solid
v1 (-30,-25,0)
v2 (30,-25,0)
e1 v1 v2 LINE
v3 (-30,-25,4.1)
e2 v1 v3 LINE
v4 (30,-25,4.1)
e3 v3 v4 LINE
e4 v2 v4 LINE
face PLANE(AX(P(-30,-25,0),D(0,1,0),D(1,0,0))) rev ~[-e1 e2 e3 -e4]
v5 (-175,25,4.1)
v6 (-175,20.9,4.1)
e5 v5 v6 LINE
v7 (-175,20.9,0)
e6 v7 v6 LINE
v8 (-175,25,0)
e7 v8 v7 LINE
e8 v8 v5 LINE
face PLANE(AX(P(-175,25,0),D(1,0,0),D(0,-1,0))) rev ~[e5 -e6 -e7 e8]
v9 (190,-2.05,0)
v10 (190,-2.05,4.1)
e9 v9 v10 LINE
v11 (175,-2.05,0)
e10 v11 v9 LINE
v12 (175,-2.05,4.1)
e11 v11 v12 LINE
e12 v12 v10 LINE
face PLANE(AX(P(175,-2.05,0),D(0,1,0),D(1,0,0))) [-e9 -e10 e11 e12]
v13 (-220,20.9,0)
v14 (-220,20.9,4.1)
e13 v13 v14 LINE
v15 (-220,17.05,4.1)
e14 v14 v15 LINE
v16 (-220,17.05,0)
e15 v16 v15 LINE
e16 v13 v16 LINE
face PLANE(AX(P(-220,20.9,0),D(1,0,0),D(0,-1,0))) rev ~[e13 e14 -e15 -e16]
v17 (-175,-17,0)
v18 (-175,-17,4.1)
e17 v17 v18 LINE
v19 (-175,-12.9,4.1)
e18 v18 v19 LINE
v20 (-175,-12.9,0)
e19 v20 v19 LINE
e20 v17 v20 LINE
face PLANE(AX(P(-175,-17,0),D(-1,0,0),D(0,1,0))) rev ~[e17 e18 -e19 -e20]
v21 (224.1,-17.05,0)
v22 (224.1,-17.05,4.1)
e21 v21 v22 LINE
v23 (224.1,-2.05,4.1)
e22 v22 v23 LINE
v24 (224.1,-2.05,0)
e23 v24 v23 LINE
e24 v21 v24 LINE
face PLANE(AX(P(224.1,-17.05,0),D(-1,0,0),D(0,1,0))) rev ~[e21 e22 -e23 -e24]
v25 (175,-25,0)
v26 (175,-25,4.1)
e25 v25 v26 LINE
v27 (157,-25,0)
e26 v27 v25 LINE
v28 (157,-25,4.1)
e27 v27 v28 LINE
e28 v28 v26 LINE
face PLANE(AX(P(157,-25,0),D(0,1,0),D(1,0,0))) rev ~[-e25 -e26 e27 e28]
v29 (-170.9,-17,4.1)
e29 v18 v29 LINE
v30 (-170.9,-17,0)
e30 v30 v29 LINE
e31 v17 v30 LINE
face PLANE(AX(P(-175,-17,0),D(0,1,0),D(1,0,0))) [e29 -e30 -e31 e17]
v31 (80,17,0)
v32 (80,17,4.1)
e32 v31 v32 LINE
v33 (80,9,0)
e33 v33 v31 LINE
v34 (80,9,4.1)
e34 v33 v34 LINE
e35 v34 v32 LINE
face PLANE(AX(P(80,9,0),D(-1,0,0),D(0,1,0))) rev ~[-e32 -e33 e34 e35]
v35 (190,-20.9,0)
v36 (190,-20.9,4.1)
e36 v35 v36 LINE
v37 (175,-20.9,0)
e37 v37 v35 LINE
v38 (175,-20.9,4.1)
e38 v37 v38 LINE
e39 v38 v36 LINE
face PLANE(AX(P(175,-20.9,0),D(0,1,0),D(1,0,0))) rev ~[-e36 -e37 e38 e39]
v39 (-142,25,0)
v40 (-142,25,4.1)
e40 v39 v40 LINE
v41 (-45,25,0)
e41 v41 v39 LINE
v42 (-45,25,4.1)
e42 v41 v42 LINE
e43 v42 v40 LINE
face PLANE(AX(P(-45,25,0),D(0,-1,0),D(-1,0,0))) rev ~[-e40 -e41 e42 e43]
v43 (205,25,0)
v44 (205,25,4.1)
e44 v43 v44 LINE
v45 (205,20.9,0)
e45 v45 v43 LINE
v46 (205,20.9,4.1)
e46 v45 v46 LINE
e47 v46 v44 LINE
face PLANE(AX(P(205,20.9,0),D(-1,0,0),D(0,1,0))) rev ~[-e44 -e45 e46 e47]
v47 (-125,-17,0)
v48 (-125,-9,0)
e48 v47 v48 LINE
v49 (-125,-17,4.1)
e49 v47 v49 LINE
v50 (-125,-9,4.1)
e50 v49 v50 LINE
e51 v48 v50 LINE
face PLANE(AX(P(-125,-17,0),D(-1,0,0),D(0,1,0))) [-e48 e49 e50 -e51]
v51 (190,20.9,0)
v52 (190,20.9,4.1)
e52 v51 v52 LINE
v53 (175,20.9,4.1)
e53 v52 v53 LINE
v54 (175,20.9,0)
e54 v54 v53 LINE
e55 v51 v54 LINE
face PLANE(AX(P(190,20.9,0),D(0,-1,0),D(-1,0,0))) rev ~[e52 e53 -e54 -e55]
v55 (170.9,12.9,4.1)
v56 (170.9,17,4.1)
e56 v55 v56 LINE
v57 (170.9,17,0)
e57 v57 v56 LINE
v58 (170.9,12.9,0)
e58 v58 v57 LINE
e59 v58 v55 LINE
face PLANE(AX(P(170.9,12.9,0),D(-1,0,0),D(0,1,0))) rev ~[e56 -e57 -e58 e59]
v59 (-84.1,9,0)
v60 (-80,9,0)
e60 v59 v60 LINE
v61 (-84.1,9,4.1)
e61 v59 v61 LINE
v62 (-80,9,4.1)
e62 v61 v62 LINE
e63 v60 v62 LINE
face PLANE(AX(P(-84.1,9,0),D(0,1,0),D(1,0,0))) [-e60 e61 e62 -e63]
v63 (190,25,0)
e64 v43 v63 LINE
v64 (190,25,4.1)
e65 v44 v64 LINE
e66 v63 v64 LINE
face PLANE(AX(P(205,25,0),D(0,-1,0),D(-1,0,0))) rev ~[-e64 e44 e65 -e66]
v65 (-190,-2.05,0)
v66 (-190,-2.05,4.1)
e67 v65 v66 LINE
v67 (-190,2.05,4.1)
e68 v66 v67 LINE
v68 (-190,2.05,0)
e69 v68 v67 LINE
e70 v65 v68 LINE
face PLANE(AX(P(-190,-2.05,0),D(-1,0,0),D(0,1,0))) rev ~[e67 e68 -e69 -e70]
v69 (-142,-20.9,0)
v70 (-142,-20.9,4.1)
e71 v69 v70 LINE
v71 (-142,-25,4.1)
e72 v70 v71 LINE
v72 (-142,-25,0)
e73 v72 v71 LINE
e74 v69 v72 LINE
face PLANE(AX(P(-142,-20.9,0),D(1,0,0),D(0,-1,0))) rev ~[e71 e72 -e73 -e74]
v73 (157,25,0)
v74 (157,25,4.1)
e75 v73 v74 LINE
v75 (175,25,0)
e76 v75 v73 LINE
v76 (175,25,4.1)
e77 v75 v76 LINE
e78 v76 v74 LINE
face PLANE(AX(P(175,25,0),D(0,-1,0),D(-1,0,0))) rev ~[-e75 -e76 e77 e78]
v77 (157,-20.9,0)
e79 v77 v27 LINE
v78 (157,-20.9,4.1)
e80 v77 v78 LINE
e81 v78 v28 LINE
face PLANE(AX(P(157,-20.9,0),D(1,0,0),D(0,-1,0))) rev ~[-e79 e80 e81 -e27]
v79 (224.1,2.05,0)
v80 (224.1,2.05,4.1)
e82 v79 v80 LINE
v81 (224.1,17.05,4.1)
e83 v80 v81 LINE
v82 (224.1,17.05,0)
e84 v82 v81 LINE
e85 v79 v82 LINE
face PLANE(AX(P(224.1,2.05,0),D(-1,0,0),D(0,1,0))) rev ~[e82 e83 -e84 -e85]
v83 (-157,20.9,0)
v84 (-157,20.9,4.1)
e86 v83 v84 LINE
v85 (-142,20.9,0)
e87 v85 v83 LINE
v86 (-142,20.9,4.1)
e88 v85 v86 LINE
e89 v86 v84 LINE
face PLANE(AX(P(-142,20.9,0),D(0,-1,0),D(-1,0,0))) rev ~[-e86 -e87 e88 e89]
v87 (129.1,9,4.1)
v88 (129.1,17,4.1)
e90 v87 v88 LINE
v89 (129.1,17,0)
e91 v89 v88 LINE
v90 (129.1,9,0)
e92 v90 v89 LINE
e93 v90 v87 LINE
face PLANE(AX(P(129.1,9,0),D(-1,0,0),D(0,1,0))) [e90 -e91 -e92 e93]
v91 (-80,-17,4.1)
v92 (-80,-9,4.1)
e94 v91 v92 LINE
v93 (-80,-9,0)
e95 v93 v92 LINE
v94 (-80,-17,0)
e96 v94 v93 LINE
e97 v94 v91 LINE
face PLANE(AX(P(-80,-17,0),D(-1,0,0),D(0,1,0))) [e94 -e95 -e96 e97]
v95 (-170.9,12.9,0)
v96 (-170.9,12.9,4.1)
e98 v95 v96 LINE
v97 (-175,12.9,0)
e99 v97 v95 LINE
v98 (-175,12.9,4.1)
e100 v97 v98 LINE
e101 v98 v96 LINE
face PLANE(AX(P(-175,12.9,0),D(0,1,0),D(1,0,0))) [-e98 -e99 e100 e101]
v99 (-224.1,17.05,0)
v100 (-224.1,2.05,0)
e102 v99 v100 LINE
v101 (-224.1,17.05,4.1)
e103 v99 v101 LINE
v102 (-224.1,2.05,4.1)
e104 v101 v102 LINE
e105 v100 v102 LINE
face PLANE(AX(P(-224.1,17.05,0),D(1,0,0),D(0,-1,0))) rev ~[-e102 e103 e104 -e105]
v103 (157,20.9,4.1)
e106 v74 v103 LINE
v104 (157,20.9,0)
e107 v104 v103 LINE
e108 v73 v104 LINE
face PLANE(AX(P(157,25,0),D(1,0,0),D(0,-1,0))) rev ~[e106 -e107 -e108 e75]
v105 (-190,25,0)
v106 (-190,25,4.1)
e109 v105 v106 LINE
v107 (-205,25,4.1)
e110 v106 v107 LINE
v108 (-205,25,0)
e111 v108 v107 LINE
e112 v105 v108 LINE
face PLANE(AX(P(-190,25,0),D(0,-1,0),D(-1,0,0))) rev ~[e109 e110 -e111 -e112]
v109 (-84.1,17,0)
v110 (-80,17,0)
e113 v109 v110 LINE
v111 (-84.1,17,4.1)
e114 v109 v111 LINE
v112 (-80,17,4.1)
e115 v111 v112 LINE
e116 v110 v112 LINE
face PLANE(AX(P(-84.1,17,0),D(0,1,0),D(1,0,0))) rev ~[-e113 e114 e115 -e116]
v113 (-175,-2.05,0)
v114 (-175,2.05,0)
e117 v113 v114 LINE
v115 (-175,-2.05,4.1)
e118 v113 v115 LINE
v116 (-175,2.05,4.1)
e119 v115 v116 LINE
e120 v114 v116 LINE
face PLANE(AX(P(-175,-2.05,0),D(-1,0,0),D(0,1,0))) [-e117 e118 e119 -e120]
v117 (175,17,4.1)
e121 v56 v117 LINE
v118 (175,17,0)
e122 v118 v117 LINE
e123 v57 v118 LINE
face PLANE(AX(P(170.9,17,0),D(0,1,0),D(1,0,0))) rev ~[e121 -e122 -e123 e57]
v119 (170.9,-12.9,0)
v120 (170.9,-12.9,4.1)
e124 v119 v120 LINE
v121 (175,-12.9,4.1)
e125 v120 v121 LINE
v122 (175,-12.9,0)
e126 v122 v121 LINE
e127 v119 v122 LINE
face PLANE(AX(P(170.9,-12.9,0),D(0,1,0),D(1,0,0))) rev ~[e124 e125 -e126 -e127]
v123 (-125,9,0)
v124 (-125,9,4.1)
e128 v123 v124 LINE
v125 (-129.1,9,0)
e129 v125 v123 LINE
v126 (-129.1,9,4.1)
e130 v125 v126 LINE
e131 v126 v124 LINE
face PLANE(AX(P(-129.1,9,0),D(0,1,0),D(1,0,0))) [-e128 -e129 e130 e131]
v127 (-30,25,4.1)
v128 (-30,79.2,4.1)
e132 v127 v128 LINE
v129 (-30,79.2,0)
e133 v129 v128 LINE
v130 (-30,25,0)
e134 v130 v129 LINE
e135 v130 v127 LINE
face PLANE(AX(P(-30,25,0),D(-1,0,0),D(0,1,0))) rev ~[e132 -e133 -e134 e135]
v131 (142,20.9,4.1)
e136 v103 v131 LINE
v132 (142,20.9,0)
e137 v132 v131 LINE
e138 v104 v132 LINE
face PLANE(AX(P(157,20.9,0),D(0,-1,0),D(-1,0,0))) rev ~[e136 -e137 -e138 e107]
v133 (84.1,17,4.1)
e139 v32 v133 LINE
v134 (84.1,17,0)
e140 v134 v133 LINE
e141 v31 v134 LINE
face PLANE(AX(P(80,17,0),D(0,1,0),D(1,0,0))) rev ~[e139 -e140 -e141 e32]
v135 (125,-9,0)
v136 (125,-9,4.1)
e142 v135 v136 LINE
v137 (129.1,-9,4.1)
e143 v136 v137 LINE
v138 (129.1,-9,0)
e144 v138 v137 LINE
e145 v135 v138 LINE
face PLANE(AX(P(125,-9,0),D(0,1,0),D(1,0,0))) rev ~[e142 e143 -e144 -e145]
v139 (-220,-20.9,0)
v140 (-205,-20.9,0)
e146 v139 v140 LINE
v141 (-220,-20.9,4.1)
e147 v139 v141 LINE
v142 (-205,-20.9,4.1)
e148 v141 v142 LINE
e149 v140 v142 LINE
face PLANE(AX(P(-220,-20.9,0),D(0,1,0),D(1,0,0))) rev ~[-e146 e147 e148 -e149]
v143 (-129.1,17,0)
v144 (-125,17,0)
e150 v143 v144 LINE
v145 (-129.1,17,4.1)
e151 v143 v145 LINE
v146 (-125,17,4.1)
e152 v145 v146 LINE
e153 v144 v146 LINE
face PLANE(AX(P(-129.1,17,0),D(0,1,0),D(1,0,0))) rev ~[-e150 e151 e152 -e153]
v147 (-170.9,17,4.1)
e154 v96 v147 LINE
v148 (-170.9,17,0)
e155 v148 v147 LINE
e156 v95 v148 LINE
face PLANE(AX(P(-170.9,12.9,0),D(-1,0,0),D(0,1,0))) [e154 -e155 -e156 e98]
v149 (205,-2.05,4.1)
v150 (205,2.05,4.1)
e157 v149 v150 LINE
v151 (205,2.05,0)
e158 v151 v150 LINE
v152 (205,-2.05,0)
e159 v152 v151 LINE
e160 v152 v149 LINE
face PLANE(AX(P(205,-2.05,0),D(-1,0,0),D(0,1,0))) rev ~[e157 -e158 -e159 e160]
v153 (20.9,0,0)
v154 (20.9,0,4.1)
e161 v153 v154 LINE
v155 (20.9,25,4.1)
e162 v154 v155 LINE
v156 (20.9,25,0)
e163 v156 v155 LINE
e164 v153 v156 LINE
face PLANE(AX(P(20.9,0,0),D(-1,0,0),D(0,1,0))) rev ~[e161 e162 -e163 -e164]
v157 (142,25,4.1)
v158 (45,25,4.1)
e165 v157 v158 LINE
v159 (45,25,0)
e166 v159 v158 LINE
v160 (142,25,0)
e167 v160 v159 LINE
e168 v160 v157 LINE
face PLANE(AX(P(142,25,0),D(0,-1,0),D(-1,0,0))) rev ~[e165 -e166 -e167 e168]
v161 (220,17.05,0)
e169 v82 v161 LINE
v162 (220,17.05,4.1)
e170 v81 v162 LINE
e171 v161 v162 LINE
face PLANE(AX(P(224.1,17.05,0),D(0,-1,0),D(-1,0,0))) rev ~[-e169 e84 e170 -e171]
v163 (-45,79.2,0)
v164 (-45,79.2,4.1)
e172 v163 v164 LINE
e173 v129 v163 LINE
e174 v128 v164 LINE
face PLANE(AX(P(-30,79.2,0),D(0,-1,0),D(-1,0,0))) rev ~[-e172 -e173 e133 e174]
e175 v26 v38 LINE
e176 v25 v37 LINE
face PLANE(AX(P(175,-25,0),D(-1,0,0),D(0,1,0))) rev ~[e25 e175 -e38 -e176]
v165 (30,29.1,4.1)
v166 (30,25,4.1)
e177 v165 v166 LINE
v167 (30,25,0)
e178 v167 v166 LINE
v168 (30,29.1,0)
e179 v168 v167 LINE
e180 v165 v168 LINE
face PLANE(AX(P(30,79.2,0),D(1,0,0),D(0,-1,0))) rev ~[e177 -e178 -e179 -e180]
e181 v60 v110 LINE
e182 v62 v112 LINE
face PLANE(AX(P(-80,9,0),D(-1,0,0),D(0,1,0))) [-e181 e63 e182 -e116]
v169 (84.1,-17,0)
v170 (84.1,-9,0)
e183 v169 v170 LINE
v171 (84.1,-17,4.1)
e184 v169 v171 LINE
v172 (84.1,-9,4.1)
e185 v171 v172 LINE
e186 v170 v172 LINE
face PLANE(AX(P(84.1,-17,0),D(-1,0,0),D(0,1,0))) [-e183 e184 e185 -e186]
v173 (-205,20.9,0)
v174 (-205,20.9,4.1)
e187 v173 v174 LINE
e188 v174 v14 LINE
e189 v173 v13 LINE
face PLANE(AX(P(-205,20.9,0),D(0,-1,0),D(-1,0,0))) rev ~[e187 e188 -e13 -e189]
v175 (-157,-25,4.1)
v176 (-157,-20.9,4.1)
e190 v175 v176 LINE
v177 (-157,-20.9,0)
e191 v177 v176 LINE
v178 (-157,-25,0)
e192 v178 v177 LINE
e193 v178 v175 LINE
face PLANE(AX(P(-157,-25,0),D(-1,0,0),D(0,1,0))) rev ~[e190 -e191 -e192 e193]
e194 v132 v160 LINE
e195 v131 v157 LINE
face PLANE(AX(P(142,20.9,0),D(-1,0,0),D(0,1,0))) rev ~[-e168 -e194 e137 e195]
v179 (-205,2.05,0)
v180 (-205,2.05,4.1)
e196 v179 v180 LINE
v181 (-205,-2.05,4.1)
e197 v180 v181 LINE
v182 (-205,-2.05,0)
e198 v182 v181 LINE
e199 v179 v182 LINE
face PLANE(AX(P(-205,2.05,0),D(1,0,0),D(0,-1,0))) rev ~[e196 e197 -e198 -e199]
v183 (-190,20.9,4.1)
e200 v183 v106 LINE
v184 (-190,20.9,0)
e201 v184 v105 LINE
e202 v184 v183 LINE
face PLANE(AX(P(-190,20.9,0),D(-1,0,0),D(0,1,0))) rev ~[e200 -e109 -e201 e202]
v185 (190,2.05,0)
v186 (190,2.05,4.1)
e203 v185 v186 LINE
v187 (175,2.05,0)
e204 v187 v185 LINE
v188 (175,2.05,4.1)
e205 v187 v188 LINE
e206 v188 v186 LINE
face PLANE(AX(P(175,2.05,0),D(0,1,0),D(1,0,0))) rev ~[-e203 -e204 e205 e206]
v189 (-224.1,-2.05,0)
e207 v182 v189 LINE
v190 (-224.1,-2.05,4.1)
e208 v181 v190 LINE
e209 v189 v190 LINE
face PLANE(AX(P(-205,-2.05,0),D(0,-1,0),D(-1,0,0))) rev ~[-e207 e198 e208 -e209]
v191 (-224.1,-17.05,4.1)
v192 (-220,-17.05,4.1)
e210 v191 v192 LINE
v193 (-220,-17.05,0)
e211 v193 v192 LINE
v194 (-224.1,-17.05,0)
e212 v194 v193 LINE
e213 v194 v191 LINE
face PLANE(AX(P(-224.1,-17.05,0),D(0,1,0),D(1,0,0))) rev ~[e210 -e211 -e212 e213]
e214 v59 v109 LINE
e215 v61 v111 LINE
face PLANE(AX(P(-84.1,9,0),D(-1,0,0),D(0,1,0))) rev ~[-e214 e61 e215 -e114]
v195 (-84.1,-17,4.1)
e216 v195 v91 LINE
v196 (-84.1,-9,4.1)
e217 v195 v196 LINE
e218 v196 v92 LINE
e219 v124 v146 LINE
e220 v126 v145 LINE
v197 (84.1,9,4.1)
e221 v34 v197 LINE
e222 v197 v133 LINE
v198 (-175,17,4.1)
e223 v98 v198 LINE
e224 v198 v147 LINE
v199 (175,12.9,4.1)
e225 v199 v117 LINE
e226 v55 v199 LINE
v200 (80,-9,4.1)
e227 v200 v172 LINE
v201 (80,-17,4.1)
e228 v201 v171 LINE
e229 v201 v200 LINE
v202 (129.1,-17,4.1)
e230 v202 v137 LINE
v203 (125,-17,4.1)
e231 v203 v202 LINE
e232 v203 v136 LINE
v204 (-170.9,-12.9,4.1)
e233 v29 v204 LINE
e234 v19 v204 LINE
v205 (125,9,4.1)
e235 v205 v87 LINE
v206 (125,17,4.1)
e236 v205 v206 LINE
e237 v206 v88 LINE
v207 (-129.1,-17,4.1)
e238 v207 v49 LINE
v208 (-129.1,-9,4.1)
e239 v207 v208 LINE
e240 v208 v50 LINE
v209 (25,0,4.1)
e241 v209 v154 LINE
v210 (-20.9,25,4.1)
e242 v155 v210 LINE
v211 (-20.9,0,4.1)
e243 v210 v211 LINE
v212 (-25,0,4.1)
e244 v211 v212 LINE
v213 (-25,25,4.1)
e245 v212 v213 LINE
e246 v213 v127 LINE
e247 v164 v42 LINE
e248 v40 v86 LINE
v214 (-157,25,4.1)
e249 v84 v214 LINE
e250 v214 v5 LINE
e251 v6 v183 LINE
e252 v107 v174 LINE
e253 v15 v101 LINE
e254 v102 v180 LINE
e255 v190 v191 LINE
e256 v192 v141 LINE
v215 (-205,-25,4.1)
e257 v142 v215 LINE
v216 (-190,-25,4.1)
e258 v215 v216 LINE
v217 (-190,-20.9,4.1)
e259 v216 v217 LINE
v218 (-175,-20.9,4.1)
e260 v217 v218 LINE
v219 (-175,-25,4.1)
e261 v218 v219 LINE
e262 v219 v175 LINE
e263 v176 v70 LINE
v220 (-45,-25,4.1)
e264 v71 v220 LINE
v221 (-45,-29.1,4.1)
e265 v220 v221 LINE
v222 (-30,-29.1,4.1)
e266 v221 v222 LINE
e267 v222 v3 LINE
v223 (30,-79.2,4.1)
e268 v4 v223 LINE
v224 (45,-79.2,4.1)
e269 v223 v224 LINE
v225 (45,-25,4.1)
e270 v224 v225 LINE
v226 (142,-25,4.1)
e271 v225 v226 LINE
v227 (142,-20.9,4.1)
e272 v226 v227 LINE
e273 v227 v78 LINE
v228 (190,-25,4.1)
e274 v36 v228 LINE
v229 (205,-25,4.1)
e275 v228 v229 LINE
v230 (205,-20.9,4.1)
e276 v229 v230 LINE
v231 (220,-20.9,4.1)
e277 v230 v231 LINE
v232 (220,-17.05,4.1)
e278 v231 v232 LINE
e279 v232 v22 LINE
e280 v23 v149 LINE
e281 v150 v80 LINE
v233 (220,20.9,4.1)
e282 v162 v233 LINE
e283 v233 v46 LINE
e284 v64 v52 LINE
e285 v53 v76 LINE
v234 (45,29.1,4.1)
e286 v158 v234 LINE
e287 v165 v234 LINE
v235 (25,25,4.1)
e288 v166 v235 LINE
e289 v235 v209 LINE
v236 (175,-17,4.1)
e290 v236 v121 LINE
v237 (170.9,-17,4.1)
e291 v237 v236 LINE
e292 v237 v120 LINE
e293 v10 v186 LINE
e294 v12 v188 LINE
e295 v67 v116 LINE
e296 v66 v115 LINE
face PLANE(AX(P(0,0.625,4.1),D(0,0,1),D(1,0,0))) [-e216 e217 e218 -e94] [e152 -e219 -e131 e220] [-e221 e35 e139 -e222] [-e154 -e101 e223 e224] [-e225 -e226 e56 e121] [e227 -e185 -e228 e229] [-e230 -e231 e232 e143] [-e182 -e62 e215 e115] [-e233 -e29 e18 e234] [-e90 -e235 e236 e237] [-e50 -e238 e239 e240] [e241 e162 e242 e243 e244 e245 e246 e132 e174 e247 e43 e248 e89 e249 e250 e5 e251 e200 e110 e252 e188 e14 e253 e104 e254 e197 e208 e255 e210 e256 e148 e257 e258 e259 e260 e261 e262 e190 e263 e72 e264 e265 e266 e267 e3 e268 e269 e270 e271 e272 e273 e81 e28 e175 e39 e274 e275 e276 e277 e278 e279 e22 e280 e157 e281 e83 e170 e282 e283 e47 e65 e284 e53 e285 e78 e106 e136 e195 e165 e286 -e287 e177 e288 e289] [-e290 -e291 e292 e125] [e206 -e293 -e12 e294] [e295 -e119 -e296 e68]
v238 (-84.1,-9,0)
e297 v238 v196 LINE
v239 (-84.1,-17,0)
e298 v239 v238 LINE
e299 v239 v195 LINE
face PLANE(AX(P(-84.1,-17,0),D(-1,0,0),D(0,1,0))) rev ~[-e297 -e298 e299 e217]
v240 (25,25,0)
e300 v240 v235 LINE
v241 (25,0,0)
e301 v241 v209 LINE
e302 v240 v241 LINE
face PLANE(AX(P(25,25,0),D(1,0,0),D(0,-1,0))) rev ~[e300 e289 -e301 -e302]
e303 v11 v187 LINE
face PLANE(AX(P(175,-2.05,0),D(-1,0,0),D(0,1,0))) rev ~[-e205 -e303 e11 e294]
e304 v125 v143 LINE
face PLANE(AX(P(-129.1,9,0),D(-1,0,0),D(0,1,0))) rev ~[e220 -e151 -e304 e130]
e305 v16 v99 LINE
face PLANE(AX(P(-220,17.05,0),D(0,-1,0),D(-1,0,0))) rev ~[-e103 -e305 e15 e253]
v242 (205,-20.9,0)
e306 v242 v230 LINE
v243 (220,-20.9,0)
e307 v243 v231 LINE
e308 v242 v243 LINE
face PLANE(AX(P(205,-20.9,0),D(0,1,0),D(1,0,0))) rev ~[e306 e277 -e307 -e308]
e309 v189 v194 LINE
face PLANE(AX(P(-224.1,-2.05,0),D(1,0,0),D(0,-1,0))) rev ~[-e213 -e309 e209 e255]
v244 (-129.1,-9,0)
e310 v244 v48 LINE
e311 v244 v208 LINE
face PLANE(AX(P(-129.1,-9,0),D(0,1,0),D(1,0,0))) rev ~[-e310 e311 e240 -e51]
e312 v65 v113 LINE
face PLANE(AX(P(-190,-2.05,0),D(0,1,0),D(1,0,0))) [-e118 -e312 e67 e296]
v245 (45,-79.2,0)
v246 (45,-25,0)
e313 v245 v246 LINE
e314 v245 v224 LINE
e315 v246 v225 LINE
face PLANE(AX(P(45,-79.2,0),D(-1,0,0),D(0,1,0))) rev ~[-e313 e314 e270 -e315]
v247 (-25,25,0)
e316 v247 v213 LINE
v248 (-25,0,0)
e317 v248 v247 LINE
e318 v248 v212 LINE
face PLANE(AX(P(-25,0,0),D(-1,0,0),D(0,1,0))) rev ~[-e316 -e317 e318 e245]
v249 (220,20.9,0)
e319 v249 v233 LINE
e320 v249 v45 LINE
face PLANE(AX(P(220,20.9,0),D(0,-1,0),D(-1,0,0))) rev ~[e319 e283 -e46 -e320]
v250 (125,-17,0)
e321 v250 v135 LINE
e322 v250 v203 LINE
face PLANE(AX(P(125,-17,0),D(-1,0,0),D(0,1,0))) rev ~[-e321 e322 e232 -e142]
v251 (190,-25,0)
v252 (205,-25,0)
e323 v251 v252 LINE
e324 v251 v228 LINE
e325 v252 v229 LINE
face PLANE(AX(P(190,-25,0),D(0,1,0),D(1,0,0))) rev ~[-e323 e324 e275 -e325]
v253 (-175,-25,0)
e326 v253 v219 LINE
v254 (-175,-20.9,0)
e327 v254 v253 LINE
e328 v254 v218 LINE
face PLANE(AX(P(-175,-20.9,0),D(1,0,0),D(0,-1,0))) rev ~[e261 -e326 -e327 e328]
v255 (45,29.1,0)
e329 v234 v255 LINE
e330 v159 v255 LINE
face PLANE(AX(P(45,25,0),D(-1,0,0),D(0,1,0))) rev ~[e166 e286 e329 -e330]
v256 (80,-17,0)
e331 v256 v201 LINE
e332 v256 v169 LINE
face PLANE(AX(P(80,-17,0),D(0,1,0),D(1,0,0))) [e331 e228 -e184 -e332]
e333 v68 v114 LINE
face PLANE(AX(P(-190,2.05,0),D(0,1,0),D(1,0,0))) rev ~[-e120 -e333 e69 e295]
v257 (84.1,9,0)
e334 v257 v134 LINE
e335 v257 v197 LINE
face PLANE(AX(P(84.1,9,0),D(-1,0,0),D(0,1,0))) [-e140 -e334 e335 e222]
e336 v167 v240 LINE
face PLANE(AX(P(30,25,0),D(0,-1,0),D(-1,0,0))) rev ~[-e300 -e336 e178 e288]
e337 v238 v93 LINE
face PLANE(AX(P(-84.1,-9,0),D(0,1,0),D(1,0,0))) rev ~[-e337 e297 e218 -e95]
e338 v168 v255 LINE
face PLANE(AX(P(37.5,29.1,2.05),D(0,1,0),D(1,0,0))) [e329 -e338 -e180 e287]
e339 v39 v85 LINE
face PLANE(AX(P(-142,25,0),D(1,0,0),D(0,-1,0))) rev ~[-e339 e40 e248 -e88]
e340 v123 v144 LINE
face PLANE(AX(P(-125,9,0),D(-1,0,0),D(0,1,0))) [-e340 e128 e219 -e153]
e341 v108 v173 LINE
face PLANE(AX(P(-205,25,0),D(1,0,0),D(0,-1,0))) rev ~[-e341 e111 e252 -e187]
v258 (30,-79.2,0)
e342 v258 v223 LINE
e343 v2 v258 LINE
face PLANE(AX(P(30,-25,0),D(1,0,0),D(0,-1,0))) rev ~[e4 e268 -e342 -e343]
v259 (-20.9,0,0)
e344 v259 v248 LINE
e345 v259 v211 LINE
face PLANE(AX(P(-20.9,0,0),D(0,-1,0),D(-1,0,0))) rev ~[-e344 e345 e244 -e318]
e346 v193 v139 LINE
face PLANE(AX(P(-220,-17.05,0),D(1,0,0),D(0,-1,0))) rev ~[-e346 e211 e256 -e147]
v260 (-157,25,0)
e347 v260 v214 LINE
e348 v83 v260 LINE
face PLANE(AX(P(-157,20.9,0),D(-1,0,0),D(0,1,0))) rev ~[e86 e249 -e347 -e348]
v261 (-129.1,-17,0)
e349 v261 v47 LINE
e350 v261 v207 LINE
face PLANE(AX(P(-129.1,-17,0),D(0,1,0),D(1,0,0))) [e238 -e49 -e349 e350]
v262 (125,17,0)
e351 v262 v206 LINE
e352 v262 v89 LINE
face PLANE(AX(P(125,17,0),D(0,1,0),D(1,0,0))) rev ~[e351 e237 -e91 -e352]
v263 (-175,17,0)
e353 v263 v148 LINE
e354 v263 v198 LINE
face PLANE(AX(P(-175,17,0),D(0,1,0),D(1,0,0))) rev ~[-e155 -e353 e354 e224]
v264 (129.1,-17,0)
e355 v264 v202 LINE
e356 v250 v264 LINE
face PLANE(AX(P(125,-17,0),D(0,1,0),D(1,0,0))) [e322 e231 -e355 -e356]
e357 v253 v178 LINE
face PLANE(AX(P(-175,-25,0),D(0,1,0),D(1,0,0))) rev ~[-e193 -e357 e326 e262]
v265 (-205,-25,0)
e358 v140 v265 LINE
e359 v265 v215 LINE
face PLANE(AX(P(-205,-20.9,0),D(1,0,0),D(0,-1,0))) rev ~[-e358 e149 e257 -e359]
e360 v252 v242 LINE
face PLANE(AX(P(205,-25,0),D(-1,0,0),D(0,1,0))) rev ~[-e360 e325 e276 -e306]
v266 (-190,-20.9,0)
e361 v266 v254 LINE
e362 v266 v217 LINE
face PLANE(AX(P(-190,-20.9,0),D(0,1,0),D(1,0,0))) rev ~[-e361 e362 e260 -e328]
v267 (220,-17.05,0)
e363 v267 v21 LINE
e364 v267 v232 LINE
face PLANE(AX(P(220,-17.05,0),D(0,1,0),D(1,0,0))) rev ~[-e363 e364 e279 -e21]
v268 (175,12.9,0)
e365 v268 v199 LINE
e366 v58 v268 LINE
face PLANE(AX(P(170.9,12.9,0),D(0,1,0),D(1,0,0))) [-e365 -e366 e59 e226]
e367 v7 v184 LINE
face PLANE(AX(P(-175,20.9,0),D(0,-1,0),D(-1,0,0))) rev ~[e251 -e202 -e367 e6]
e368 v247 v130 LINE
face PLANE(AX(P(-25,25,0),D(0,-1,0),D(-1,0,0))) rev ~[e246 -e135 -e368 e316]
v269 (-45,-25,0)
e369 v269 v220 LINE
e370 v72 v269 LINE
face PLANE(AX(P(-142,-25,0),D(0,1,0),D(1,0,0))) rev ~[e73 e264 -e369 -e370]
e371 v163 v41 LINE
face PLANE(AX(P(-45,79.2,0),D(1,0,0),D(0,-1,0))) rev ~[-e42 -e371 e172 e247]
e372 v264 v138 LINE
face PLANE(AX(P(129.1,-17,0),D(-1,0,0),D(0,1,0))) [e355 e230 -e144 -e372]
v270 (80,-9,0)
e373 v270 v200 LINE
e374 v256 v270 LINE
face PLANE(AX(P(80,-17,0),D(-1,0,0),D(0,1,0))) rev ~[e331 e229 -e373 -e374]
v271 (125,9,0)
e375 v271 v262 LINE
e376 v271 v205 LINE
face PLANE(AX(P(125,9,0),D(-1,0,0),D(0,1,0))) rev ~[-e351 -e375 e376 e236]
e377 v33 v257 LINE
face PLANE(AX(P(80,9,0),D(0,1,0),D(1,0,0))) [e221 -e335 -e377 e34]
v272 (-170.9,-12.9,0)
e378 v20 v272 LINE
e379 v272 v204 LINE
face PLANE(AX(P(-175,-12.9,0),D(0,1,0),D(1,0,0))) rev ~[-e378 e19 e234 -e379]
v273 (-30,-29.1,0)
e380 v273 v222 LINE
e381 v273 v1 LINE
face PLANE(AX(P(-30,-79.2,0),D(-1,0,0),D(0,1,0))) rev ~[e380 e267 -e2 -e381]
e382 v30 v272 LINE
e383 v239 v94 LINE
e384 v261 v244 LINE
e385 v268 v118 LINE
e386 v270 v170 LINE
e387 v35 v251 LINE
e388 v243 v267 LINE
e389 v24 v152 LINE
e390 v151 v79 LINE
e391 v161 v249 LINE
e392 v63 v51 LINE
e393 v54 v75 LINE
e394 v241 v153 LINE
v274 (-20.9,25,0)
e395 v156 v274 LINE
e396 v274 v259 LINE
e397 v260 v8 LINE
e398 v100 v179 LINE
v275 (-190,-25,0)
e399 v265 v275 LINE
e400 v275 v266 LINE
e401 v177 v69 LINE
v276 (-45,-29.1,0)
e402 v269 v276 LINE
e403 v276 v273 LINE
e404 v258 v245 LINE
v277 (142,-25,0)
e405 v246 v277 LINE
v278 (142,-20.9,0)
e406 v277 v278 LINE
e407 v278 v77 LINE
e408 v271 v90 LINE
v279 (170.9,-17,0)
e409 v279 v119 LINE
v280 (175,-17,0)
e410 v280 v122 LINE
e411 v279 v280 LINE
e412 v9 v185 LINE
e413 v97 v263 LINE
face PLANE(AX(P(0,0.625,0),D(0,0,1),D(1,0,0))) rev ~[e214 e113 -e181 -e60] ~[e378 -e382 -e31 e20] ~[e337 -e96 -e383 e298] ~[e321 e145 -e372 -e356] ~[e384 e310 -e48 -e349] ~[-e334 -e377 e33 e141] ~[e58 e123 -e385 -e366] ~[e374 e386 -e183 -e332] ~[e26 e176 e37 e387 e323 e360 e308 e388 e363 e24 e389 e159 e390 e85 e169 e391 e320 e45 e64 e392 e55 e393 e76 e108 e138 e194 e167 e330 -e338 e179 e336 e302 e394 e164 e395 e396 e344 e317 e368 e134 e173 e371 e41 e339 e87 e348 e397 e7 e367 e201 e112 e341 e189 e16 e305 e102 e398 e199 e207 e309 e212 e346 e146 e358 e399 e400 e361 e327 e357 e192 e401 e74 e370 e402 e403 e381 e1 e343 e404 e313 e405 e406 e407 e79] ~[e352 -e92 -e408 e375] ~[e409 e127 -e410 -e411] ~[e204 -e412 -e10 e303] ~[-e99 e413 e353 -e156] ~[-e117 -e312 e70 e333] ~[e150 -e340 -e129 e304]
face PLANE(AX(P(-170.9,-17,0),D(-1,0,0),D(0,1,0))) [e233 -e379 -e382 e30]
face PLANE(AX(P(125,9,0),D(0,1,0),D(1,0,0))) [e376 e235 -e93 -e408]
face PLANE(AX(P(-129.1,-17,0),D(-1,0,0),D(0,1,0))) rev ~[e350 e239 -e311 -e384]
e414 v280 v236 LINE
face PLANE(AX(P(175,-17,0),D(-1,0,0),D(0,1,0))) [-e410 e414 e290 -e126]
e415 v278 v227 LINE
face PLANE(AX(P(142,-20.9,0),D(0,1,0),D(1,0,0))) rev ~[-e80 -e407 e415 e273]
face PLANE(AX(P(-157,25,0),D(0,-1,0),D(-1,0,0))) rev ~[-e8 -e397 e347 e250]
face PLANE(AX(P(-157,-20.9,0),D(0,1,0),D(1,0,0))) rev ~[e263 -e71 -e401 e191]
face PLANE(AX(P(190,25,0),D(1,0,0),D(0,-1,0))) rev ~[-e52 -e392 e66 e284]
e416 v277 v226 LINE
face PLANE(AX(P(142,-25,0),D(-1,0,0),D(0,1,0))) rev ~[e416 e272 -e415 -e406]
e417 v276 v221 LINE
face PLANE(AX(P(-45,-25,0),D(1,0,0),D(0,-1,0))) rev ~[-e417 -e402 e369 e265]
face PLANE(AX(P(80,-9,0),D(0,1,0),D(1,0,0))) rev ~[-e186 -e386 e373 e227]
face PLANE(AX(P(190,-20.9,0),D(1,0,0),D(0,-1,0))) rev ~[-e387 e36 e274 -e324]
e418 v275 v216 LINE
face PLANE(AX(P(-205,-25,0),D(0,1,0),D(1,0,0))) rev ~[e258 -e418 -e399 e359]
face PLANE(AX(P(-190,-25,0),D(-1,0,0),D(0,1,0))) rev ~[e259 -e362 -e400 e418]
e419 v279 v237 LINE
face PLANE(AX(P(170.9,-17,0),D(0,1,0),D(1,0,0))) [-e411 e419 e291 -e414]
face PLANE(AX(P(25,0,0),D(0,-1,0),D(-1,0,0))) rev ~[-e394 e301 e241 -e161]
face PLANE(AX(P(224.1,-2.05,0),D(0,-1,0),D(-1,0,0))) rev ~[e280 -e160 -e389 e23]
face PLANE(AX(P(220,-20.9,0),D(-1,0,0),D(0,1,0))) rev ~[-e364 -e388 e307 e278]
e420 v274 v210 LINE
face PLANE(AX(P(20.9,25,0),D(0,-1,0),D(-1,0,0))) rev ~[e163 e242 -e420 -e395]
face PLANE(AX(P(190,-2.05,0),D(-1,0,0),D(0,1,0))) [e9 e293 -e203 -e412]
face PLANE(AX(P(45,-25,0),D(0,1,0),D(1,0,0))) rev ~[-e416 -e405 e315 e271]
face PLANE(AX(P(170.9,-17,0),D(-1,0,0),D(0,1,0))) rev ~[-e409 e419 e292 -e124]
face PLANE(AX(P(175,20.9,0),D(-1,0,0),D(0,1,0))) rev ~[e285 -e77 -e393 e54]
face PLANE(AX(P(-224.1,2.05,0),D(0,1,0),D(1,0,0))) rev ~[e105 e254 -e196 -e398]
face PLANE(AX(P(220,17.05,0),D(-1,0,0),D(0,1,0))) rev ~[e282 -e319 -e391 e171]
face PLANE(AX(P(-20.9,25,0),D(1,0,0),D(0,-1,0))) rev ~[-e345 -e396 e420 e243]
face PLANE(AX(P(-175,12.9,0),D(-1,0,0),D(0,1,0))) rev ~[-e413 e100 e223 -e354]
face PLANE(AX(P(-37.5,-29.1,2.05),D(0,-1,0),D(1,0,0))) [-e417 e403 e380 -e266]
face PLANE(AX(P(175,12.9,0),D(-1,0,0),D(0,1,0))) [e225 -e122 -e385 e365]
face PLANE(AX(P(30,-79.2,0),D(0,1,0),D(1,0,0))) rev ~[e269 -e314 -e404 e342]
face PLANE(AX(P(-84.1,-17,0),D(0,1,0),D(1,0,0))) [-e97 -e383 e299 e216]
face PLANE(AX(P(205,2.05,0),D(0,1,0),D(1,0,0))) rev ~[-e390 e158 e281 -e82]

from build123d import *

# Parameters (mm, degrees)
SKETCH1_W           = 4.1
SKETCH1_H           = 4.1
SKETCH1_H_2         = 8
SKETCH1_W_2         = 15
BOSS_EXTRUDE1_DEPTH = 4.1
SKETCH2_W           = 15
SKETCH2_H           = 4.1
TOP_RIGHT_DEPTH     = 50.1
SKETCH3_W           = 15
SKETCH3_H           = 4.1
BOTTOM_LEFT_DEPTH   = 50.1


with BuildPart() as part:
    # Sketch1 → Boss-Extrude1 (new body)
    with BuildSketch(Plane.XY):
        Polygon((-205, -20.9), (-205, -25), (-190, -25), (-190, -20.9), (-175, -20.9), (-175, -25), (-157, -25), (-157, -20.9), (-142, -20.9), (-142, -25), (-45, -25), (-45, -79.2), (-30, -79.2), (-30, -25), (30, -25), (30, -79.2), (45, -79.2), (45, -25), (142, -25), (142, -20.9), (157, -20.9), (157, -25), (175, -25), (175, -20.9), (190, -20.9), (190, -25), (205, -25), (205, -20.9), (220, -20.9), (220, -17.05), (224.1, -17.05), (224.1, -2.05), (205, -2.05), (205, 2.05), (224.1, 2.05), (224.1, 17.05), (220, 17.05), (220, 20.9), (205, 20.9), (205, 25), (190, 25), (190, 20.9), (175, 20.9), (175, 25), (157, 25), (157, 20.9), (142, 20.9), (142, 25), (45, 25), (45, 79.2), (30, 79.2), (30, 25), (25, 25), (25, 0), (20.9, 0), (20.9, 25), (-20.9, 25), (-20.9, 0), (-25, 0), (-25, 25), (-30, 25), (-30, 79.2), (-45, 79.2), (-45, 25), (-142, 25), (-142, 20.9), (-157, 20.9), (-157, 25), (-175, 25), (-175, 20.9), (-190, 20.9), (-190, 25), (-205, 25), (-205, 20.9), (-220, 20.9), (-220, 17.05), (-224.1, 17.05), (-224.1, 2.05), (-205, 2.05), (-205, -2.05), (-224.1, -2.05), (-224.1, -17.05), (-220, -17.05), (-220, -20.9), align=None)
        with Locations((-172.95, -14.95)):
            Rectangle(SKETCH1_W, SKETCH1_H, mode=Mode.SUBTRACT)
        with Locations((-127.05, -13)):
            Rectangle(SKETCH1_W, SKETCH1_H_2, mode=Mode.SUBTRACT)
        with Locations((-82.05, -13)):
            Rectangle(SKETCH1_W, SKETCH1_H_2, mode=Mode.SUBTRACT)
        with Locations((82.05, -13)):
            Rectangle(SKETCH1_W, SKETCH1_H_2, mode=Mode.SUBTRACT)
        with Locations((127.05, -13)):
            Rectangle(SKETCH1_W, SKETCH1_H_2, mode=Mode.SUBTRACT)
        with Locations((172.95, -14.95)):
            Rectangle(SKETCH1_W, SKETCH1_H, mode=Mode.SUBTRACT)
        with Locations((-182.5, 0)):
            Rectangle(SKETCH1_W_2, SKETCH1_H, mode=Mode.SUBTRACT)
        with Locations((-172.95, 14.95)):
            Rectangle(SKETCH1_W, SKETCH1_H, mode=Mode.SUBTRACT)
        with Locations((-127.05, 13)):
            Rectangle(SKETCH1_W, SKETCH1_H_2, mode=Mode.SUBTRACT)
        with Locations((-82.05, 13)):
            Rectangle(SKETCH1_W, SKETCH1_H_2, mode=Mode.SUBTRACT)
        with Locations((82.05, 13)):
            Rectangle(SKETCH1_W, SKETCH1_H_2, mode=Mode.SUBTRACT)
        with Locations((127.05, 13)):
            Rectangle(SKETCH1_W, SKETCH1_H_2, mode=Mode.SUBTRACT)
        with Locations((182.5, 0)):
            Rectangle(SKETCH1_W_2, SKETCH1_H, mode=Mode.SUBTRACT)
        with Locations((172.95, 14.95)):
            Rectangle(SKETCH1_W, SKETCH1_H, mode=Mode.SUBTRACT)
    extrude(amount=BOSS_EXTRUDE1_DEPTH)

    # Sketch2 → top right (cut)
    with BuildSketch(Plane(origin=(0, 79.2, 0), x_dir=(1, 0, 0), z_dir=(0, 1, 0))):
        with Locations((37.5, -2.05)):
            Rectangle(SKETCH2_W, SKETCH2_H)
    extrude(amount=-TOP_RIGHT_DEPTH, mode=Mode.SUBTRACT)

    # Sketch3 → bottom left (cut)
    with BuildSketch(Plane.XZ.offset(79.2)):
        with Locations((-37.5, 2.05)):
            Rectangle(SKETCH3_W, SKETCH3_H)
    extrude(amount=-BOTTOM_LEFT_DEPTH, mode=Mode.SUBTRACT)


solid = part.part
